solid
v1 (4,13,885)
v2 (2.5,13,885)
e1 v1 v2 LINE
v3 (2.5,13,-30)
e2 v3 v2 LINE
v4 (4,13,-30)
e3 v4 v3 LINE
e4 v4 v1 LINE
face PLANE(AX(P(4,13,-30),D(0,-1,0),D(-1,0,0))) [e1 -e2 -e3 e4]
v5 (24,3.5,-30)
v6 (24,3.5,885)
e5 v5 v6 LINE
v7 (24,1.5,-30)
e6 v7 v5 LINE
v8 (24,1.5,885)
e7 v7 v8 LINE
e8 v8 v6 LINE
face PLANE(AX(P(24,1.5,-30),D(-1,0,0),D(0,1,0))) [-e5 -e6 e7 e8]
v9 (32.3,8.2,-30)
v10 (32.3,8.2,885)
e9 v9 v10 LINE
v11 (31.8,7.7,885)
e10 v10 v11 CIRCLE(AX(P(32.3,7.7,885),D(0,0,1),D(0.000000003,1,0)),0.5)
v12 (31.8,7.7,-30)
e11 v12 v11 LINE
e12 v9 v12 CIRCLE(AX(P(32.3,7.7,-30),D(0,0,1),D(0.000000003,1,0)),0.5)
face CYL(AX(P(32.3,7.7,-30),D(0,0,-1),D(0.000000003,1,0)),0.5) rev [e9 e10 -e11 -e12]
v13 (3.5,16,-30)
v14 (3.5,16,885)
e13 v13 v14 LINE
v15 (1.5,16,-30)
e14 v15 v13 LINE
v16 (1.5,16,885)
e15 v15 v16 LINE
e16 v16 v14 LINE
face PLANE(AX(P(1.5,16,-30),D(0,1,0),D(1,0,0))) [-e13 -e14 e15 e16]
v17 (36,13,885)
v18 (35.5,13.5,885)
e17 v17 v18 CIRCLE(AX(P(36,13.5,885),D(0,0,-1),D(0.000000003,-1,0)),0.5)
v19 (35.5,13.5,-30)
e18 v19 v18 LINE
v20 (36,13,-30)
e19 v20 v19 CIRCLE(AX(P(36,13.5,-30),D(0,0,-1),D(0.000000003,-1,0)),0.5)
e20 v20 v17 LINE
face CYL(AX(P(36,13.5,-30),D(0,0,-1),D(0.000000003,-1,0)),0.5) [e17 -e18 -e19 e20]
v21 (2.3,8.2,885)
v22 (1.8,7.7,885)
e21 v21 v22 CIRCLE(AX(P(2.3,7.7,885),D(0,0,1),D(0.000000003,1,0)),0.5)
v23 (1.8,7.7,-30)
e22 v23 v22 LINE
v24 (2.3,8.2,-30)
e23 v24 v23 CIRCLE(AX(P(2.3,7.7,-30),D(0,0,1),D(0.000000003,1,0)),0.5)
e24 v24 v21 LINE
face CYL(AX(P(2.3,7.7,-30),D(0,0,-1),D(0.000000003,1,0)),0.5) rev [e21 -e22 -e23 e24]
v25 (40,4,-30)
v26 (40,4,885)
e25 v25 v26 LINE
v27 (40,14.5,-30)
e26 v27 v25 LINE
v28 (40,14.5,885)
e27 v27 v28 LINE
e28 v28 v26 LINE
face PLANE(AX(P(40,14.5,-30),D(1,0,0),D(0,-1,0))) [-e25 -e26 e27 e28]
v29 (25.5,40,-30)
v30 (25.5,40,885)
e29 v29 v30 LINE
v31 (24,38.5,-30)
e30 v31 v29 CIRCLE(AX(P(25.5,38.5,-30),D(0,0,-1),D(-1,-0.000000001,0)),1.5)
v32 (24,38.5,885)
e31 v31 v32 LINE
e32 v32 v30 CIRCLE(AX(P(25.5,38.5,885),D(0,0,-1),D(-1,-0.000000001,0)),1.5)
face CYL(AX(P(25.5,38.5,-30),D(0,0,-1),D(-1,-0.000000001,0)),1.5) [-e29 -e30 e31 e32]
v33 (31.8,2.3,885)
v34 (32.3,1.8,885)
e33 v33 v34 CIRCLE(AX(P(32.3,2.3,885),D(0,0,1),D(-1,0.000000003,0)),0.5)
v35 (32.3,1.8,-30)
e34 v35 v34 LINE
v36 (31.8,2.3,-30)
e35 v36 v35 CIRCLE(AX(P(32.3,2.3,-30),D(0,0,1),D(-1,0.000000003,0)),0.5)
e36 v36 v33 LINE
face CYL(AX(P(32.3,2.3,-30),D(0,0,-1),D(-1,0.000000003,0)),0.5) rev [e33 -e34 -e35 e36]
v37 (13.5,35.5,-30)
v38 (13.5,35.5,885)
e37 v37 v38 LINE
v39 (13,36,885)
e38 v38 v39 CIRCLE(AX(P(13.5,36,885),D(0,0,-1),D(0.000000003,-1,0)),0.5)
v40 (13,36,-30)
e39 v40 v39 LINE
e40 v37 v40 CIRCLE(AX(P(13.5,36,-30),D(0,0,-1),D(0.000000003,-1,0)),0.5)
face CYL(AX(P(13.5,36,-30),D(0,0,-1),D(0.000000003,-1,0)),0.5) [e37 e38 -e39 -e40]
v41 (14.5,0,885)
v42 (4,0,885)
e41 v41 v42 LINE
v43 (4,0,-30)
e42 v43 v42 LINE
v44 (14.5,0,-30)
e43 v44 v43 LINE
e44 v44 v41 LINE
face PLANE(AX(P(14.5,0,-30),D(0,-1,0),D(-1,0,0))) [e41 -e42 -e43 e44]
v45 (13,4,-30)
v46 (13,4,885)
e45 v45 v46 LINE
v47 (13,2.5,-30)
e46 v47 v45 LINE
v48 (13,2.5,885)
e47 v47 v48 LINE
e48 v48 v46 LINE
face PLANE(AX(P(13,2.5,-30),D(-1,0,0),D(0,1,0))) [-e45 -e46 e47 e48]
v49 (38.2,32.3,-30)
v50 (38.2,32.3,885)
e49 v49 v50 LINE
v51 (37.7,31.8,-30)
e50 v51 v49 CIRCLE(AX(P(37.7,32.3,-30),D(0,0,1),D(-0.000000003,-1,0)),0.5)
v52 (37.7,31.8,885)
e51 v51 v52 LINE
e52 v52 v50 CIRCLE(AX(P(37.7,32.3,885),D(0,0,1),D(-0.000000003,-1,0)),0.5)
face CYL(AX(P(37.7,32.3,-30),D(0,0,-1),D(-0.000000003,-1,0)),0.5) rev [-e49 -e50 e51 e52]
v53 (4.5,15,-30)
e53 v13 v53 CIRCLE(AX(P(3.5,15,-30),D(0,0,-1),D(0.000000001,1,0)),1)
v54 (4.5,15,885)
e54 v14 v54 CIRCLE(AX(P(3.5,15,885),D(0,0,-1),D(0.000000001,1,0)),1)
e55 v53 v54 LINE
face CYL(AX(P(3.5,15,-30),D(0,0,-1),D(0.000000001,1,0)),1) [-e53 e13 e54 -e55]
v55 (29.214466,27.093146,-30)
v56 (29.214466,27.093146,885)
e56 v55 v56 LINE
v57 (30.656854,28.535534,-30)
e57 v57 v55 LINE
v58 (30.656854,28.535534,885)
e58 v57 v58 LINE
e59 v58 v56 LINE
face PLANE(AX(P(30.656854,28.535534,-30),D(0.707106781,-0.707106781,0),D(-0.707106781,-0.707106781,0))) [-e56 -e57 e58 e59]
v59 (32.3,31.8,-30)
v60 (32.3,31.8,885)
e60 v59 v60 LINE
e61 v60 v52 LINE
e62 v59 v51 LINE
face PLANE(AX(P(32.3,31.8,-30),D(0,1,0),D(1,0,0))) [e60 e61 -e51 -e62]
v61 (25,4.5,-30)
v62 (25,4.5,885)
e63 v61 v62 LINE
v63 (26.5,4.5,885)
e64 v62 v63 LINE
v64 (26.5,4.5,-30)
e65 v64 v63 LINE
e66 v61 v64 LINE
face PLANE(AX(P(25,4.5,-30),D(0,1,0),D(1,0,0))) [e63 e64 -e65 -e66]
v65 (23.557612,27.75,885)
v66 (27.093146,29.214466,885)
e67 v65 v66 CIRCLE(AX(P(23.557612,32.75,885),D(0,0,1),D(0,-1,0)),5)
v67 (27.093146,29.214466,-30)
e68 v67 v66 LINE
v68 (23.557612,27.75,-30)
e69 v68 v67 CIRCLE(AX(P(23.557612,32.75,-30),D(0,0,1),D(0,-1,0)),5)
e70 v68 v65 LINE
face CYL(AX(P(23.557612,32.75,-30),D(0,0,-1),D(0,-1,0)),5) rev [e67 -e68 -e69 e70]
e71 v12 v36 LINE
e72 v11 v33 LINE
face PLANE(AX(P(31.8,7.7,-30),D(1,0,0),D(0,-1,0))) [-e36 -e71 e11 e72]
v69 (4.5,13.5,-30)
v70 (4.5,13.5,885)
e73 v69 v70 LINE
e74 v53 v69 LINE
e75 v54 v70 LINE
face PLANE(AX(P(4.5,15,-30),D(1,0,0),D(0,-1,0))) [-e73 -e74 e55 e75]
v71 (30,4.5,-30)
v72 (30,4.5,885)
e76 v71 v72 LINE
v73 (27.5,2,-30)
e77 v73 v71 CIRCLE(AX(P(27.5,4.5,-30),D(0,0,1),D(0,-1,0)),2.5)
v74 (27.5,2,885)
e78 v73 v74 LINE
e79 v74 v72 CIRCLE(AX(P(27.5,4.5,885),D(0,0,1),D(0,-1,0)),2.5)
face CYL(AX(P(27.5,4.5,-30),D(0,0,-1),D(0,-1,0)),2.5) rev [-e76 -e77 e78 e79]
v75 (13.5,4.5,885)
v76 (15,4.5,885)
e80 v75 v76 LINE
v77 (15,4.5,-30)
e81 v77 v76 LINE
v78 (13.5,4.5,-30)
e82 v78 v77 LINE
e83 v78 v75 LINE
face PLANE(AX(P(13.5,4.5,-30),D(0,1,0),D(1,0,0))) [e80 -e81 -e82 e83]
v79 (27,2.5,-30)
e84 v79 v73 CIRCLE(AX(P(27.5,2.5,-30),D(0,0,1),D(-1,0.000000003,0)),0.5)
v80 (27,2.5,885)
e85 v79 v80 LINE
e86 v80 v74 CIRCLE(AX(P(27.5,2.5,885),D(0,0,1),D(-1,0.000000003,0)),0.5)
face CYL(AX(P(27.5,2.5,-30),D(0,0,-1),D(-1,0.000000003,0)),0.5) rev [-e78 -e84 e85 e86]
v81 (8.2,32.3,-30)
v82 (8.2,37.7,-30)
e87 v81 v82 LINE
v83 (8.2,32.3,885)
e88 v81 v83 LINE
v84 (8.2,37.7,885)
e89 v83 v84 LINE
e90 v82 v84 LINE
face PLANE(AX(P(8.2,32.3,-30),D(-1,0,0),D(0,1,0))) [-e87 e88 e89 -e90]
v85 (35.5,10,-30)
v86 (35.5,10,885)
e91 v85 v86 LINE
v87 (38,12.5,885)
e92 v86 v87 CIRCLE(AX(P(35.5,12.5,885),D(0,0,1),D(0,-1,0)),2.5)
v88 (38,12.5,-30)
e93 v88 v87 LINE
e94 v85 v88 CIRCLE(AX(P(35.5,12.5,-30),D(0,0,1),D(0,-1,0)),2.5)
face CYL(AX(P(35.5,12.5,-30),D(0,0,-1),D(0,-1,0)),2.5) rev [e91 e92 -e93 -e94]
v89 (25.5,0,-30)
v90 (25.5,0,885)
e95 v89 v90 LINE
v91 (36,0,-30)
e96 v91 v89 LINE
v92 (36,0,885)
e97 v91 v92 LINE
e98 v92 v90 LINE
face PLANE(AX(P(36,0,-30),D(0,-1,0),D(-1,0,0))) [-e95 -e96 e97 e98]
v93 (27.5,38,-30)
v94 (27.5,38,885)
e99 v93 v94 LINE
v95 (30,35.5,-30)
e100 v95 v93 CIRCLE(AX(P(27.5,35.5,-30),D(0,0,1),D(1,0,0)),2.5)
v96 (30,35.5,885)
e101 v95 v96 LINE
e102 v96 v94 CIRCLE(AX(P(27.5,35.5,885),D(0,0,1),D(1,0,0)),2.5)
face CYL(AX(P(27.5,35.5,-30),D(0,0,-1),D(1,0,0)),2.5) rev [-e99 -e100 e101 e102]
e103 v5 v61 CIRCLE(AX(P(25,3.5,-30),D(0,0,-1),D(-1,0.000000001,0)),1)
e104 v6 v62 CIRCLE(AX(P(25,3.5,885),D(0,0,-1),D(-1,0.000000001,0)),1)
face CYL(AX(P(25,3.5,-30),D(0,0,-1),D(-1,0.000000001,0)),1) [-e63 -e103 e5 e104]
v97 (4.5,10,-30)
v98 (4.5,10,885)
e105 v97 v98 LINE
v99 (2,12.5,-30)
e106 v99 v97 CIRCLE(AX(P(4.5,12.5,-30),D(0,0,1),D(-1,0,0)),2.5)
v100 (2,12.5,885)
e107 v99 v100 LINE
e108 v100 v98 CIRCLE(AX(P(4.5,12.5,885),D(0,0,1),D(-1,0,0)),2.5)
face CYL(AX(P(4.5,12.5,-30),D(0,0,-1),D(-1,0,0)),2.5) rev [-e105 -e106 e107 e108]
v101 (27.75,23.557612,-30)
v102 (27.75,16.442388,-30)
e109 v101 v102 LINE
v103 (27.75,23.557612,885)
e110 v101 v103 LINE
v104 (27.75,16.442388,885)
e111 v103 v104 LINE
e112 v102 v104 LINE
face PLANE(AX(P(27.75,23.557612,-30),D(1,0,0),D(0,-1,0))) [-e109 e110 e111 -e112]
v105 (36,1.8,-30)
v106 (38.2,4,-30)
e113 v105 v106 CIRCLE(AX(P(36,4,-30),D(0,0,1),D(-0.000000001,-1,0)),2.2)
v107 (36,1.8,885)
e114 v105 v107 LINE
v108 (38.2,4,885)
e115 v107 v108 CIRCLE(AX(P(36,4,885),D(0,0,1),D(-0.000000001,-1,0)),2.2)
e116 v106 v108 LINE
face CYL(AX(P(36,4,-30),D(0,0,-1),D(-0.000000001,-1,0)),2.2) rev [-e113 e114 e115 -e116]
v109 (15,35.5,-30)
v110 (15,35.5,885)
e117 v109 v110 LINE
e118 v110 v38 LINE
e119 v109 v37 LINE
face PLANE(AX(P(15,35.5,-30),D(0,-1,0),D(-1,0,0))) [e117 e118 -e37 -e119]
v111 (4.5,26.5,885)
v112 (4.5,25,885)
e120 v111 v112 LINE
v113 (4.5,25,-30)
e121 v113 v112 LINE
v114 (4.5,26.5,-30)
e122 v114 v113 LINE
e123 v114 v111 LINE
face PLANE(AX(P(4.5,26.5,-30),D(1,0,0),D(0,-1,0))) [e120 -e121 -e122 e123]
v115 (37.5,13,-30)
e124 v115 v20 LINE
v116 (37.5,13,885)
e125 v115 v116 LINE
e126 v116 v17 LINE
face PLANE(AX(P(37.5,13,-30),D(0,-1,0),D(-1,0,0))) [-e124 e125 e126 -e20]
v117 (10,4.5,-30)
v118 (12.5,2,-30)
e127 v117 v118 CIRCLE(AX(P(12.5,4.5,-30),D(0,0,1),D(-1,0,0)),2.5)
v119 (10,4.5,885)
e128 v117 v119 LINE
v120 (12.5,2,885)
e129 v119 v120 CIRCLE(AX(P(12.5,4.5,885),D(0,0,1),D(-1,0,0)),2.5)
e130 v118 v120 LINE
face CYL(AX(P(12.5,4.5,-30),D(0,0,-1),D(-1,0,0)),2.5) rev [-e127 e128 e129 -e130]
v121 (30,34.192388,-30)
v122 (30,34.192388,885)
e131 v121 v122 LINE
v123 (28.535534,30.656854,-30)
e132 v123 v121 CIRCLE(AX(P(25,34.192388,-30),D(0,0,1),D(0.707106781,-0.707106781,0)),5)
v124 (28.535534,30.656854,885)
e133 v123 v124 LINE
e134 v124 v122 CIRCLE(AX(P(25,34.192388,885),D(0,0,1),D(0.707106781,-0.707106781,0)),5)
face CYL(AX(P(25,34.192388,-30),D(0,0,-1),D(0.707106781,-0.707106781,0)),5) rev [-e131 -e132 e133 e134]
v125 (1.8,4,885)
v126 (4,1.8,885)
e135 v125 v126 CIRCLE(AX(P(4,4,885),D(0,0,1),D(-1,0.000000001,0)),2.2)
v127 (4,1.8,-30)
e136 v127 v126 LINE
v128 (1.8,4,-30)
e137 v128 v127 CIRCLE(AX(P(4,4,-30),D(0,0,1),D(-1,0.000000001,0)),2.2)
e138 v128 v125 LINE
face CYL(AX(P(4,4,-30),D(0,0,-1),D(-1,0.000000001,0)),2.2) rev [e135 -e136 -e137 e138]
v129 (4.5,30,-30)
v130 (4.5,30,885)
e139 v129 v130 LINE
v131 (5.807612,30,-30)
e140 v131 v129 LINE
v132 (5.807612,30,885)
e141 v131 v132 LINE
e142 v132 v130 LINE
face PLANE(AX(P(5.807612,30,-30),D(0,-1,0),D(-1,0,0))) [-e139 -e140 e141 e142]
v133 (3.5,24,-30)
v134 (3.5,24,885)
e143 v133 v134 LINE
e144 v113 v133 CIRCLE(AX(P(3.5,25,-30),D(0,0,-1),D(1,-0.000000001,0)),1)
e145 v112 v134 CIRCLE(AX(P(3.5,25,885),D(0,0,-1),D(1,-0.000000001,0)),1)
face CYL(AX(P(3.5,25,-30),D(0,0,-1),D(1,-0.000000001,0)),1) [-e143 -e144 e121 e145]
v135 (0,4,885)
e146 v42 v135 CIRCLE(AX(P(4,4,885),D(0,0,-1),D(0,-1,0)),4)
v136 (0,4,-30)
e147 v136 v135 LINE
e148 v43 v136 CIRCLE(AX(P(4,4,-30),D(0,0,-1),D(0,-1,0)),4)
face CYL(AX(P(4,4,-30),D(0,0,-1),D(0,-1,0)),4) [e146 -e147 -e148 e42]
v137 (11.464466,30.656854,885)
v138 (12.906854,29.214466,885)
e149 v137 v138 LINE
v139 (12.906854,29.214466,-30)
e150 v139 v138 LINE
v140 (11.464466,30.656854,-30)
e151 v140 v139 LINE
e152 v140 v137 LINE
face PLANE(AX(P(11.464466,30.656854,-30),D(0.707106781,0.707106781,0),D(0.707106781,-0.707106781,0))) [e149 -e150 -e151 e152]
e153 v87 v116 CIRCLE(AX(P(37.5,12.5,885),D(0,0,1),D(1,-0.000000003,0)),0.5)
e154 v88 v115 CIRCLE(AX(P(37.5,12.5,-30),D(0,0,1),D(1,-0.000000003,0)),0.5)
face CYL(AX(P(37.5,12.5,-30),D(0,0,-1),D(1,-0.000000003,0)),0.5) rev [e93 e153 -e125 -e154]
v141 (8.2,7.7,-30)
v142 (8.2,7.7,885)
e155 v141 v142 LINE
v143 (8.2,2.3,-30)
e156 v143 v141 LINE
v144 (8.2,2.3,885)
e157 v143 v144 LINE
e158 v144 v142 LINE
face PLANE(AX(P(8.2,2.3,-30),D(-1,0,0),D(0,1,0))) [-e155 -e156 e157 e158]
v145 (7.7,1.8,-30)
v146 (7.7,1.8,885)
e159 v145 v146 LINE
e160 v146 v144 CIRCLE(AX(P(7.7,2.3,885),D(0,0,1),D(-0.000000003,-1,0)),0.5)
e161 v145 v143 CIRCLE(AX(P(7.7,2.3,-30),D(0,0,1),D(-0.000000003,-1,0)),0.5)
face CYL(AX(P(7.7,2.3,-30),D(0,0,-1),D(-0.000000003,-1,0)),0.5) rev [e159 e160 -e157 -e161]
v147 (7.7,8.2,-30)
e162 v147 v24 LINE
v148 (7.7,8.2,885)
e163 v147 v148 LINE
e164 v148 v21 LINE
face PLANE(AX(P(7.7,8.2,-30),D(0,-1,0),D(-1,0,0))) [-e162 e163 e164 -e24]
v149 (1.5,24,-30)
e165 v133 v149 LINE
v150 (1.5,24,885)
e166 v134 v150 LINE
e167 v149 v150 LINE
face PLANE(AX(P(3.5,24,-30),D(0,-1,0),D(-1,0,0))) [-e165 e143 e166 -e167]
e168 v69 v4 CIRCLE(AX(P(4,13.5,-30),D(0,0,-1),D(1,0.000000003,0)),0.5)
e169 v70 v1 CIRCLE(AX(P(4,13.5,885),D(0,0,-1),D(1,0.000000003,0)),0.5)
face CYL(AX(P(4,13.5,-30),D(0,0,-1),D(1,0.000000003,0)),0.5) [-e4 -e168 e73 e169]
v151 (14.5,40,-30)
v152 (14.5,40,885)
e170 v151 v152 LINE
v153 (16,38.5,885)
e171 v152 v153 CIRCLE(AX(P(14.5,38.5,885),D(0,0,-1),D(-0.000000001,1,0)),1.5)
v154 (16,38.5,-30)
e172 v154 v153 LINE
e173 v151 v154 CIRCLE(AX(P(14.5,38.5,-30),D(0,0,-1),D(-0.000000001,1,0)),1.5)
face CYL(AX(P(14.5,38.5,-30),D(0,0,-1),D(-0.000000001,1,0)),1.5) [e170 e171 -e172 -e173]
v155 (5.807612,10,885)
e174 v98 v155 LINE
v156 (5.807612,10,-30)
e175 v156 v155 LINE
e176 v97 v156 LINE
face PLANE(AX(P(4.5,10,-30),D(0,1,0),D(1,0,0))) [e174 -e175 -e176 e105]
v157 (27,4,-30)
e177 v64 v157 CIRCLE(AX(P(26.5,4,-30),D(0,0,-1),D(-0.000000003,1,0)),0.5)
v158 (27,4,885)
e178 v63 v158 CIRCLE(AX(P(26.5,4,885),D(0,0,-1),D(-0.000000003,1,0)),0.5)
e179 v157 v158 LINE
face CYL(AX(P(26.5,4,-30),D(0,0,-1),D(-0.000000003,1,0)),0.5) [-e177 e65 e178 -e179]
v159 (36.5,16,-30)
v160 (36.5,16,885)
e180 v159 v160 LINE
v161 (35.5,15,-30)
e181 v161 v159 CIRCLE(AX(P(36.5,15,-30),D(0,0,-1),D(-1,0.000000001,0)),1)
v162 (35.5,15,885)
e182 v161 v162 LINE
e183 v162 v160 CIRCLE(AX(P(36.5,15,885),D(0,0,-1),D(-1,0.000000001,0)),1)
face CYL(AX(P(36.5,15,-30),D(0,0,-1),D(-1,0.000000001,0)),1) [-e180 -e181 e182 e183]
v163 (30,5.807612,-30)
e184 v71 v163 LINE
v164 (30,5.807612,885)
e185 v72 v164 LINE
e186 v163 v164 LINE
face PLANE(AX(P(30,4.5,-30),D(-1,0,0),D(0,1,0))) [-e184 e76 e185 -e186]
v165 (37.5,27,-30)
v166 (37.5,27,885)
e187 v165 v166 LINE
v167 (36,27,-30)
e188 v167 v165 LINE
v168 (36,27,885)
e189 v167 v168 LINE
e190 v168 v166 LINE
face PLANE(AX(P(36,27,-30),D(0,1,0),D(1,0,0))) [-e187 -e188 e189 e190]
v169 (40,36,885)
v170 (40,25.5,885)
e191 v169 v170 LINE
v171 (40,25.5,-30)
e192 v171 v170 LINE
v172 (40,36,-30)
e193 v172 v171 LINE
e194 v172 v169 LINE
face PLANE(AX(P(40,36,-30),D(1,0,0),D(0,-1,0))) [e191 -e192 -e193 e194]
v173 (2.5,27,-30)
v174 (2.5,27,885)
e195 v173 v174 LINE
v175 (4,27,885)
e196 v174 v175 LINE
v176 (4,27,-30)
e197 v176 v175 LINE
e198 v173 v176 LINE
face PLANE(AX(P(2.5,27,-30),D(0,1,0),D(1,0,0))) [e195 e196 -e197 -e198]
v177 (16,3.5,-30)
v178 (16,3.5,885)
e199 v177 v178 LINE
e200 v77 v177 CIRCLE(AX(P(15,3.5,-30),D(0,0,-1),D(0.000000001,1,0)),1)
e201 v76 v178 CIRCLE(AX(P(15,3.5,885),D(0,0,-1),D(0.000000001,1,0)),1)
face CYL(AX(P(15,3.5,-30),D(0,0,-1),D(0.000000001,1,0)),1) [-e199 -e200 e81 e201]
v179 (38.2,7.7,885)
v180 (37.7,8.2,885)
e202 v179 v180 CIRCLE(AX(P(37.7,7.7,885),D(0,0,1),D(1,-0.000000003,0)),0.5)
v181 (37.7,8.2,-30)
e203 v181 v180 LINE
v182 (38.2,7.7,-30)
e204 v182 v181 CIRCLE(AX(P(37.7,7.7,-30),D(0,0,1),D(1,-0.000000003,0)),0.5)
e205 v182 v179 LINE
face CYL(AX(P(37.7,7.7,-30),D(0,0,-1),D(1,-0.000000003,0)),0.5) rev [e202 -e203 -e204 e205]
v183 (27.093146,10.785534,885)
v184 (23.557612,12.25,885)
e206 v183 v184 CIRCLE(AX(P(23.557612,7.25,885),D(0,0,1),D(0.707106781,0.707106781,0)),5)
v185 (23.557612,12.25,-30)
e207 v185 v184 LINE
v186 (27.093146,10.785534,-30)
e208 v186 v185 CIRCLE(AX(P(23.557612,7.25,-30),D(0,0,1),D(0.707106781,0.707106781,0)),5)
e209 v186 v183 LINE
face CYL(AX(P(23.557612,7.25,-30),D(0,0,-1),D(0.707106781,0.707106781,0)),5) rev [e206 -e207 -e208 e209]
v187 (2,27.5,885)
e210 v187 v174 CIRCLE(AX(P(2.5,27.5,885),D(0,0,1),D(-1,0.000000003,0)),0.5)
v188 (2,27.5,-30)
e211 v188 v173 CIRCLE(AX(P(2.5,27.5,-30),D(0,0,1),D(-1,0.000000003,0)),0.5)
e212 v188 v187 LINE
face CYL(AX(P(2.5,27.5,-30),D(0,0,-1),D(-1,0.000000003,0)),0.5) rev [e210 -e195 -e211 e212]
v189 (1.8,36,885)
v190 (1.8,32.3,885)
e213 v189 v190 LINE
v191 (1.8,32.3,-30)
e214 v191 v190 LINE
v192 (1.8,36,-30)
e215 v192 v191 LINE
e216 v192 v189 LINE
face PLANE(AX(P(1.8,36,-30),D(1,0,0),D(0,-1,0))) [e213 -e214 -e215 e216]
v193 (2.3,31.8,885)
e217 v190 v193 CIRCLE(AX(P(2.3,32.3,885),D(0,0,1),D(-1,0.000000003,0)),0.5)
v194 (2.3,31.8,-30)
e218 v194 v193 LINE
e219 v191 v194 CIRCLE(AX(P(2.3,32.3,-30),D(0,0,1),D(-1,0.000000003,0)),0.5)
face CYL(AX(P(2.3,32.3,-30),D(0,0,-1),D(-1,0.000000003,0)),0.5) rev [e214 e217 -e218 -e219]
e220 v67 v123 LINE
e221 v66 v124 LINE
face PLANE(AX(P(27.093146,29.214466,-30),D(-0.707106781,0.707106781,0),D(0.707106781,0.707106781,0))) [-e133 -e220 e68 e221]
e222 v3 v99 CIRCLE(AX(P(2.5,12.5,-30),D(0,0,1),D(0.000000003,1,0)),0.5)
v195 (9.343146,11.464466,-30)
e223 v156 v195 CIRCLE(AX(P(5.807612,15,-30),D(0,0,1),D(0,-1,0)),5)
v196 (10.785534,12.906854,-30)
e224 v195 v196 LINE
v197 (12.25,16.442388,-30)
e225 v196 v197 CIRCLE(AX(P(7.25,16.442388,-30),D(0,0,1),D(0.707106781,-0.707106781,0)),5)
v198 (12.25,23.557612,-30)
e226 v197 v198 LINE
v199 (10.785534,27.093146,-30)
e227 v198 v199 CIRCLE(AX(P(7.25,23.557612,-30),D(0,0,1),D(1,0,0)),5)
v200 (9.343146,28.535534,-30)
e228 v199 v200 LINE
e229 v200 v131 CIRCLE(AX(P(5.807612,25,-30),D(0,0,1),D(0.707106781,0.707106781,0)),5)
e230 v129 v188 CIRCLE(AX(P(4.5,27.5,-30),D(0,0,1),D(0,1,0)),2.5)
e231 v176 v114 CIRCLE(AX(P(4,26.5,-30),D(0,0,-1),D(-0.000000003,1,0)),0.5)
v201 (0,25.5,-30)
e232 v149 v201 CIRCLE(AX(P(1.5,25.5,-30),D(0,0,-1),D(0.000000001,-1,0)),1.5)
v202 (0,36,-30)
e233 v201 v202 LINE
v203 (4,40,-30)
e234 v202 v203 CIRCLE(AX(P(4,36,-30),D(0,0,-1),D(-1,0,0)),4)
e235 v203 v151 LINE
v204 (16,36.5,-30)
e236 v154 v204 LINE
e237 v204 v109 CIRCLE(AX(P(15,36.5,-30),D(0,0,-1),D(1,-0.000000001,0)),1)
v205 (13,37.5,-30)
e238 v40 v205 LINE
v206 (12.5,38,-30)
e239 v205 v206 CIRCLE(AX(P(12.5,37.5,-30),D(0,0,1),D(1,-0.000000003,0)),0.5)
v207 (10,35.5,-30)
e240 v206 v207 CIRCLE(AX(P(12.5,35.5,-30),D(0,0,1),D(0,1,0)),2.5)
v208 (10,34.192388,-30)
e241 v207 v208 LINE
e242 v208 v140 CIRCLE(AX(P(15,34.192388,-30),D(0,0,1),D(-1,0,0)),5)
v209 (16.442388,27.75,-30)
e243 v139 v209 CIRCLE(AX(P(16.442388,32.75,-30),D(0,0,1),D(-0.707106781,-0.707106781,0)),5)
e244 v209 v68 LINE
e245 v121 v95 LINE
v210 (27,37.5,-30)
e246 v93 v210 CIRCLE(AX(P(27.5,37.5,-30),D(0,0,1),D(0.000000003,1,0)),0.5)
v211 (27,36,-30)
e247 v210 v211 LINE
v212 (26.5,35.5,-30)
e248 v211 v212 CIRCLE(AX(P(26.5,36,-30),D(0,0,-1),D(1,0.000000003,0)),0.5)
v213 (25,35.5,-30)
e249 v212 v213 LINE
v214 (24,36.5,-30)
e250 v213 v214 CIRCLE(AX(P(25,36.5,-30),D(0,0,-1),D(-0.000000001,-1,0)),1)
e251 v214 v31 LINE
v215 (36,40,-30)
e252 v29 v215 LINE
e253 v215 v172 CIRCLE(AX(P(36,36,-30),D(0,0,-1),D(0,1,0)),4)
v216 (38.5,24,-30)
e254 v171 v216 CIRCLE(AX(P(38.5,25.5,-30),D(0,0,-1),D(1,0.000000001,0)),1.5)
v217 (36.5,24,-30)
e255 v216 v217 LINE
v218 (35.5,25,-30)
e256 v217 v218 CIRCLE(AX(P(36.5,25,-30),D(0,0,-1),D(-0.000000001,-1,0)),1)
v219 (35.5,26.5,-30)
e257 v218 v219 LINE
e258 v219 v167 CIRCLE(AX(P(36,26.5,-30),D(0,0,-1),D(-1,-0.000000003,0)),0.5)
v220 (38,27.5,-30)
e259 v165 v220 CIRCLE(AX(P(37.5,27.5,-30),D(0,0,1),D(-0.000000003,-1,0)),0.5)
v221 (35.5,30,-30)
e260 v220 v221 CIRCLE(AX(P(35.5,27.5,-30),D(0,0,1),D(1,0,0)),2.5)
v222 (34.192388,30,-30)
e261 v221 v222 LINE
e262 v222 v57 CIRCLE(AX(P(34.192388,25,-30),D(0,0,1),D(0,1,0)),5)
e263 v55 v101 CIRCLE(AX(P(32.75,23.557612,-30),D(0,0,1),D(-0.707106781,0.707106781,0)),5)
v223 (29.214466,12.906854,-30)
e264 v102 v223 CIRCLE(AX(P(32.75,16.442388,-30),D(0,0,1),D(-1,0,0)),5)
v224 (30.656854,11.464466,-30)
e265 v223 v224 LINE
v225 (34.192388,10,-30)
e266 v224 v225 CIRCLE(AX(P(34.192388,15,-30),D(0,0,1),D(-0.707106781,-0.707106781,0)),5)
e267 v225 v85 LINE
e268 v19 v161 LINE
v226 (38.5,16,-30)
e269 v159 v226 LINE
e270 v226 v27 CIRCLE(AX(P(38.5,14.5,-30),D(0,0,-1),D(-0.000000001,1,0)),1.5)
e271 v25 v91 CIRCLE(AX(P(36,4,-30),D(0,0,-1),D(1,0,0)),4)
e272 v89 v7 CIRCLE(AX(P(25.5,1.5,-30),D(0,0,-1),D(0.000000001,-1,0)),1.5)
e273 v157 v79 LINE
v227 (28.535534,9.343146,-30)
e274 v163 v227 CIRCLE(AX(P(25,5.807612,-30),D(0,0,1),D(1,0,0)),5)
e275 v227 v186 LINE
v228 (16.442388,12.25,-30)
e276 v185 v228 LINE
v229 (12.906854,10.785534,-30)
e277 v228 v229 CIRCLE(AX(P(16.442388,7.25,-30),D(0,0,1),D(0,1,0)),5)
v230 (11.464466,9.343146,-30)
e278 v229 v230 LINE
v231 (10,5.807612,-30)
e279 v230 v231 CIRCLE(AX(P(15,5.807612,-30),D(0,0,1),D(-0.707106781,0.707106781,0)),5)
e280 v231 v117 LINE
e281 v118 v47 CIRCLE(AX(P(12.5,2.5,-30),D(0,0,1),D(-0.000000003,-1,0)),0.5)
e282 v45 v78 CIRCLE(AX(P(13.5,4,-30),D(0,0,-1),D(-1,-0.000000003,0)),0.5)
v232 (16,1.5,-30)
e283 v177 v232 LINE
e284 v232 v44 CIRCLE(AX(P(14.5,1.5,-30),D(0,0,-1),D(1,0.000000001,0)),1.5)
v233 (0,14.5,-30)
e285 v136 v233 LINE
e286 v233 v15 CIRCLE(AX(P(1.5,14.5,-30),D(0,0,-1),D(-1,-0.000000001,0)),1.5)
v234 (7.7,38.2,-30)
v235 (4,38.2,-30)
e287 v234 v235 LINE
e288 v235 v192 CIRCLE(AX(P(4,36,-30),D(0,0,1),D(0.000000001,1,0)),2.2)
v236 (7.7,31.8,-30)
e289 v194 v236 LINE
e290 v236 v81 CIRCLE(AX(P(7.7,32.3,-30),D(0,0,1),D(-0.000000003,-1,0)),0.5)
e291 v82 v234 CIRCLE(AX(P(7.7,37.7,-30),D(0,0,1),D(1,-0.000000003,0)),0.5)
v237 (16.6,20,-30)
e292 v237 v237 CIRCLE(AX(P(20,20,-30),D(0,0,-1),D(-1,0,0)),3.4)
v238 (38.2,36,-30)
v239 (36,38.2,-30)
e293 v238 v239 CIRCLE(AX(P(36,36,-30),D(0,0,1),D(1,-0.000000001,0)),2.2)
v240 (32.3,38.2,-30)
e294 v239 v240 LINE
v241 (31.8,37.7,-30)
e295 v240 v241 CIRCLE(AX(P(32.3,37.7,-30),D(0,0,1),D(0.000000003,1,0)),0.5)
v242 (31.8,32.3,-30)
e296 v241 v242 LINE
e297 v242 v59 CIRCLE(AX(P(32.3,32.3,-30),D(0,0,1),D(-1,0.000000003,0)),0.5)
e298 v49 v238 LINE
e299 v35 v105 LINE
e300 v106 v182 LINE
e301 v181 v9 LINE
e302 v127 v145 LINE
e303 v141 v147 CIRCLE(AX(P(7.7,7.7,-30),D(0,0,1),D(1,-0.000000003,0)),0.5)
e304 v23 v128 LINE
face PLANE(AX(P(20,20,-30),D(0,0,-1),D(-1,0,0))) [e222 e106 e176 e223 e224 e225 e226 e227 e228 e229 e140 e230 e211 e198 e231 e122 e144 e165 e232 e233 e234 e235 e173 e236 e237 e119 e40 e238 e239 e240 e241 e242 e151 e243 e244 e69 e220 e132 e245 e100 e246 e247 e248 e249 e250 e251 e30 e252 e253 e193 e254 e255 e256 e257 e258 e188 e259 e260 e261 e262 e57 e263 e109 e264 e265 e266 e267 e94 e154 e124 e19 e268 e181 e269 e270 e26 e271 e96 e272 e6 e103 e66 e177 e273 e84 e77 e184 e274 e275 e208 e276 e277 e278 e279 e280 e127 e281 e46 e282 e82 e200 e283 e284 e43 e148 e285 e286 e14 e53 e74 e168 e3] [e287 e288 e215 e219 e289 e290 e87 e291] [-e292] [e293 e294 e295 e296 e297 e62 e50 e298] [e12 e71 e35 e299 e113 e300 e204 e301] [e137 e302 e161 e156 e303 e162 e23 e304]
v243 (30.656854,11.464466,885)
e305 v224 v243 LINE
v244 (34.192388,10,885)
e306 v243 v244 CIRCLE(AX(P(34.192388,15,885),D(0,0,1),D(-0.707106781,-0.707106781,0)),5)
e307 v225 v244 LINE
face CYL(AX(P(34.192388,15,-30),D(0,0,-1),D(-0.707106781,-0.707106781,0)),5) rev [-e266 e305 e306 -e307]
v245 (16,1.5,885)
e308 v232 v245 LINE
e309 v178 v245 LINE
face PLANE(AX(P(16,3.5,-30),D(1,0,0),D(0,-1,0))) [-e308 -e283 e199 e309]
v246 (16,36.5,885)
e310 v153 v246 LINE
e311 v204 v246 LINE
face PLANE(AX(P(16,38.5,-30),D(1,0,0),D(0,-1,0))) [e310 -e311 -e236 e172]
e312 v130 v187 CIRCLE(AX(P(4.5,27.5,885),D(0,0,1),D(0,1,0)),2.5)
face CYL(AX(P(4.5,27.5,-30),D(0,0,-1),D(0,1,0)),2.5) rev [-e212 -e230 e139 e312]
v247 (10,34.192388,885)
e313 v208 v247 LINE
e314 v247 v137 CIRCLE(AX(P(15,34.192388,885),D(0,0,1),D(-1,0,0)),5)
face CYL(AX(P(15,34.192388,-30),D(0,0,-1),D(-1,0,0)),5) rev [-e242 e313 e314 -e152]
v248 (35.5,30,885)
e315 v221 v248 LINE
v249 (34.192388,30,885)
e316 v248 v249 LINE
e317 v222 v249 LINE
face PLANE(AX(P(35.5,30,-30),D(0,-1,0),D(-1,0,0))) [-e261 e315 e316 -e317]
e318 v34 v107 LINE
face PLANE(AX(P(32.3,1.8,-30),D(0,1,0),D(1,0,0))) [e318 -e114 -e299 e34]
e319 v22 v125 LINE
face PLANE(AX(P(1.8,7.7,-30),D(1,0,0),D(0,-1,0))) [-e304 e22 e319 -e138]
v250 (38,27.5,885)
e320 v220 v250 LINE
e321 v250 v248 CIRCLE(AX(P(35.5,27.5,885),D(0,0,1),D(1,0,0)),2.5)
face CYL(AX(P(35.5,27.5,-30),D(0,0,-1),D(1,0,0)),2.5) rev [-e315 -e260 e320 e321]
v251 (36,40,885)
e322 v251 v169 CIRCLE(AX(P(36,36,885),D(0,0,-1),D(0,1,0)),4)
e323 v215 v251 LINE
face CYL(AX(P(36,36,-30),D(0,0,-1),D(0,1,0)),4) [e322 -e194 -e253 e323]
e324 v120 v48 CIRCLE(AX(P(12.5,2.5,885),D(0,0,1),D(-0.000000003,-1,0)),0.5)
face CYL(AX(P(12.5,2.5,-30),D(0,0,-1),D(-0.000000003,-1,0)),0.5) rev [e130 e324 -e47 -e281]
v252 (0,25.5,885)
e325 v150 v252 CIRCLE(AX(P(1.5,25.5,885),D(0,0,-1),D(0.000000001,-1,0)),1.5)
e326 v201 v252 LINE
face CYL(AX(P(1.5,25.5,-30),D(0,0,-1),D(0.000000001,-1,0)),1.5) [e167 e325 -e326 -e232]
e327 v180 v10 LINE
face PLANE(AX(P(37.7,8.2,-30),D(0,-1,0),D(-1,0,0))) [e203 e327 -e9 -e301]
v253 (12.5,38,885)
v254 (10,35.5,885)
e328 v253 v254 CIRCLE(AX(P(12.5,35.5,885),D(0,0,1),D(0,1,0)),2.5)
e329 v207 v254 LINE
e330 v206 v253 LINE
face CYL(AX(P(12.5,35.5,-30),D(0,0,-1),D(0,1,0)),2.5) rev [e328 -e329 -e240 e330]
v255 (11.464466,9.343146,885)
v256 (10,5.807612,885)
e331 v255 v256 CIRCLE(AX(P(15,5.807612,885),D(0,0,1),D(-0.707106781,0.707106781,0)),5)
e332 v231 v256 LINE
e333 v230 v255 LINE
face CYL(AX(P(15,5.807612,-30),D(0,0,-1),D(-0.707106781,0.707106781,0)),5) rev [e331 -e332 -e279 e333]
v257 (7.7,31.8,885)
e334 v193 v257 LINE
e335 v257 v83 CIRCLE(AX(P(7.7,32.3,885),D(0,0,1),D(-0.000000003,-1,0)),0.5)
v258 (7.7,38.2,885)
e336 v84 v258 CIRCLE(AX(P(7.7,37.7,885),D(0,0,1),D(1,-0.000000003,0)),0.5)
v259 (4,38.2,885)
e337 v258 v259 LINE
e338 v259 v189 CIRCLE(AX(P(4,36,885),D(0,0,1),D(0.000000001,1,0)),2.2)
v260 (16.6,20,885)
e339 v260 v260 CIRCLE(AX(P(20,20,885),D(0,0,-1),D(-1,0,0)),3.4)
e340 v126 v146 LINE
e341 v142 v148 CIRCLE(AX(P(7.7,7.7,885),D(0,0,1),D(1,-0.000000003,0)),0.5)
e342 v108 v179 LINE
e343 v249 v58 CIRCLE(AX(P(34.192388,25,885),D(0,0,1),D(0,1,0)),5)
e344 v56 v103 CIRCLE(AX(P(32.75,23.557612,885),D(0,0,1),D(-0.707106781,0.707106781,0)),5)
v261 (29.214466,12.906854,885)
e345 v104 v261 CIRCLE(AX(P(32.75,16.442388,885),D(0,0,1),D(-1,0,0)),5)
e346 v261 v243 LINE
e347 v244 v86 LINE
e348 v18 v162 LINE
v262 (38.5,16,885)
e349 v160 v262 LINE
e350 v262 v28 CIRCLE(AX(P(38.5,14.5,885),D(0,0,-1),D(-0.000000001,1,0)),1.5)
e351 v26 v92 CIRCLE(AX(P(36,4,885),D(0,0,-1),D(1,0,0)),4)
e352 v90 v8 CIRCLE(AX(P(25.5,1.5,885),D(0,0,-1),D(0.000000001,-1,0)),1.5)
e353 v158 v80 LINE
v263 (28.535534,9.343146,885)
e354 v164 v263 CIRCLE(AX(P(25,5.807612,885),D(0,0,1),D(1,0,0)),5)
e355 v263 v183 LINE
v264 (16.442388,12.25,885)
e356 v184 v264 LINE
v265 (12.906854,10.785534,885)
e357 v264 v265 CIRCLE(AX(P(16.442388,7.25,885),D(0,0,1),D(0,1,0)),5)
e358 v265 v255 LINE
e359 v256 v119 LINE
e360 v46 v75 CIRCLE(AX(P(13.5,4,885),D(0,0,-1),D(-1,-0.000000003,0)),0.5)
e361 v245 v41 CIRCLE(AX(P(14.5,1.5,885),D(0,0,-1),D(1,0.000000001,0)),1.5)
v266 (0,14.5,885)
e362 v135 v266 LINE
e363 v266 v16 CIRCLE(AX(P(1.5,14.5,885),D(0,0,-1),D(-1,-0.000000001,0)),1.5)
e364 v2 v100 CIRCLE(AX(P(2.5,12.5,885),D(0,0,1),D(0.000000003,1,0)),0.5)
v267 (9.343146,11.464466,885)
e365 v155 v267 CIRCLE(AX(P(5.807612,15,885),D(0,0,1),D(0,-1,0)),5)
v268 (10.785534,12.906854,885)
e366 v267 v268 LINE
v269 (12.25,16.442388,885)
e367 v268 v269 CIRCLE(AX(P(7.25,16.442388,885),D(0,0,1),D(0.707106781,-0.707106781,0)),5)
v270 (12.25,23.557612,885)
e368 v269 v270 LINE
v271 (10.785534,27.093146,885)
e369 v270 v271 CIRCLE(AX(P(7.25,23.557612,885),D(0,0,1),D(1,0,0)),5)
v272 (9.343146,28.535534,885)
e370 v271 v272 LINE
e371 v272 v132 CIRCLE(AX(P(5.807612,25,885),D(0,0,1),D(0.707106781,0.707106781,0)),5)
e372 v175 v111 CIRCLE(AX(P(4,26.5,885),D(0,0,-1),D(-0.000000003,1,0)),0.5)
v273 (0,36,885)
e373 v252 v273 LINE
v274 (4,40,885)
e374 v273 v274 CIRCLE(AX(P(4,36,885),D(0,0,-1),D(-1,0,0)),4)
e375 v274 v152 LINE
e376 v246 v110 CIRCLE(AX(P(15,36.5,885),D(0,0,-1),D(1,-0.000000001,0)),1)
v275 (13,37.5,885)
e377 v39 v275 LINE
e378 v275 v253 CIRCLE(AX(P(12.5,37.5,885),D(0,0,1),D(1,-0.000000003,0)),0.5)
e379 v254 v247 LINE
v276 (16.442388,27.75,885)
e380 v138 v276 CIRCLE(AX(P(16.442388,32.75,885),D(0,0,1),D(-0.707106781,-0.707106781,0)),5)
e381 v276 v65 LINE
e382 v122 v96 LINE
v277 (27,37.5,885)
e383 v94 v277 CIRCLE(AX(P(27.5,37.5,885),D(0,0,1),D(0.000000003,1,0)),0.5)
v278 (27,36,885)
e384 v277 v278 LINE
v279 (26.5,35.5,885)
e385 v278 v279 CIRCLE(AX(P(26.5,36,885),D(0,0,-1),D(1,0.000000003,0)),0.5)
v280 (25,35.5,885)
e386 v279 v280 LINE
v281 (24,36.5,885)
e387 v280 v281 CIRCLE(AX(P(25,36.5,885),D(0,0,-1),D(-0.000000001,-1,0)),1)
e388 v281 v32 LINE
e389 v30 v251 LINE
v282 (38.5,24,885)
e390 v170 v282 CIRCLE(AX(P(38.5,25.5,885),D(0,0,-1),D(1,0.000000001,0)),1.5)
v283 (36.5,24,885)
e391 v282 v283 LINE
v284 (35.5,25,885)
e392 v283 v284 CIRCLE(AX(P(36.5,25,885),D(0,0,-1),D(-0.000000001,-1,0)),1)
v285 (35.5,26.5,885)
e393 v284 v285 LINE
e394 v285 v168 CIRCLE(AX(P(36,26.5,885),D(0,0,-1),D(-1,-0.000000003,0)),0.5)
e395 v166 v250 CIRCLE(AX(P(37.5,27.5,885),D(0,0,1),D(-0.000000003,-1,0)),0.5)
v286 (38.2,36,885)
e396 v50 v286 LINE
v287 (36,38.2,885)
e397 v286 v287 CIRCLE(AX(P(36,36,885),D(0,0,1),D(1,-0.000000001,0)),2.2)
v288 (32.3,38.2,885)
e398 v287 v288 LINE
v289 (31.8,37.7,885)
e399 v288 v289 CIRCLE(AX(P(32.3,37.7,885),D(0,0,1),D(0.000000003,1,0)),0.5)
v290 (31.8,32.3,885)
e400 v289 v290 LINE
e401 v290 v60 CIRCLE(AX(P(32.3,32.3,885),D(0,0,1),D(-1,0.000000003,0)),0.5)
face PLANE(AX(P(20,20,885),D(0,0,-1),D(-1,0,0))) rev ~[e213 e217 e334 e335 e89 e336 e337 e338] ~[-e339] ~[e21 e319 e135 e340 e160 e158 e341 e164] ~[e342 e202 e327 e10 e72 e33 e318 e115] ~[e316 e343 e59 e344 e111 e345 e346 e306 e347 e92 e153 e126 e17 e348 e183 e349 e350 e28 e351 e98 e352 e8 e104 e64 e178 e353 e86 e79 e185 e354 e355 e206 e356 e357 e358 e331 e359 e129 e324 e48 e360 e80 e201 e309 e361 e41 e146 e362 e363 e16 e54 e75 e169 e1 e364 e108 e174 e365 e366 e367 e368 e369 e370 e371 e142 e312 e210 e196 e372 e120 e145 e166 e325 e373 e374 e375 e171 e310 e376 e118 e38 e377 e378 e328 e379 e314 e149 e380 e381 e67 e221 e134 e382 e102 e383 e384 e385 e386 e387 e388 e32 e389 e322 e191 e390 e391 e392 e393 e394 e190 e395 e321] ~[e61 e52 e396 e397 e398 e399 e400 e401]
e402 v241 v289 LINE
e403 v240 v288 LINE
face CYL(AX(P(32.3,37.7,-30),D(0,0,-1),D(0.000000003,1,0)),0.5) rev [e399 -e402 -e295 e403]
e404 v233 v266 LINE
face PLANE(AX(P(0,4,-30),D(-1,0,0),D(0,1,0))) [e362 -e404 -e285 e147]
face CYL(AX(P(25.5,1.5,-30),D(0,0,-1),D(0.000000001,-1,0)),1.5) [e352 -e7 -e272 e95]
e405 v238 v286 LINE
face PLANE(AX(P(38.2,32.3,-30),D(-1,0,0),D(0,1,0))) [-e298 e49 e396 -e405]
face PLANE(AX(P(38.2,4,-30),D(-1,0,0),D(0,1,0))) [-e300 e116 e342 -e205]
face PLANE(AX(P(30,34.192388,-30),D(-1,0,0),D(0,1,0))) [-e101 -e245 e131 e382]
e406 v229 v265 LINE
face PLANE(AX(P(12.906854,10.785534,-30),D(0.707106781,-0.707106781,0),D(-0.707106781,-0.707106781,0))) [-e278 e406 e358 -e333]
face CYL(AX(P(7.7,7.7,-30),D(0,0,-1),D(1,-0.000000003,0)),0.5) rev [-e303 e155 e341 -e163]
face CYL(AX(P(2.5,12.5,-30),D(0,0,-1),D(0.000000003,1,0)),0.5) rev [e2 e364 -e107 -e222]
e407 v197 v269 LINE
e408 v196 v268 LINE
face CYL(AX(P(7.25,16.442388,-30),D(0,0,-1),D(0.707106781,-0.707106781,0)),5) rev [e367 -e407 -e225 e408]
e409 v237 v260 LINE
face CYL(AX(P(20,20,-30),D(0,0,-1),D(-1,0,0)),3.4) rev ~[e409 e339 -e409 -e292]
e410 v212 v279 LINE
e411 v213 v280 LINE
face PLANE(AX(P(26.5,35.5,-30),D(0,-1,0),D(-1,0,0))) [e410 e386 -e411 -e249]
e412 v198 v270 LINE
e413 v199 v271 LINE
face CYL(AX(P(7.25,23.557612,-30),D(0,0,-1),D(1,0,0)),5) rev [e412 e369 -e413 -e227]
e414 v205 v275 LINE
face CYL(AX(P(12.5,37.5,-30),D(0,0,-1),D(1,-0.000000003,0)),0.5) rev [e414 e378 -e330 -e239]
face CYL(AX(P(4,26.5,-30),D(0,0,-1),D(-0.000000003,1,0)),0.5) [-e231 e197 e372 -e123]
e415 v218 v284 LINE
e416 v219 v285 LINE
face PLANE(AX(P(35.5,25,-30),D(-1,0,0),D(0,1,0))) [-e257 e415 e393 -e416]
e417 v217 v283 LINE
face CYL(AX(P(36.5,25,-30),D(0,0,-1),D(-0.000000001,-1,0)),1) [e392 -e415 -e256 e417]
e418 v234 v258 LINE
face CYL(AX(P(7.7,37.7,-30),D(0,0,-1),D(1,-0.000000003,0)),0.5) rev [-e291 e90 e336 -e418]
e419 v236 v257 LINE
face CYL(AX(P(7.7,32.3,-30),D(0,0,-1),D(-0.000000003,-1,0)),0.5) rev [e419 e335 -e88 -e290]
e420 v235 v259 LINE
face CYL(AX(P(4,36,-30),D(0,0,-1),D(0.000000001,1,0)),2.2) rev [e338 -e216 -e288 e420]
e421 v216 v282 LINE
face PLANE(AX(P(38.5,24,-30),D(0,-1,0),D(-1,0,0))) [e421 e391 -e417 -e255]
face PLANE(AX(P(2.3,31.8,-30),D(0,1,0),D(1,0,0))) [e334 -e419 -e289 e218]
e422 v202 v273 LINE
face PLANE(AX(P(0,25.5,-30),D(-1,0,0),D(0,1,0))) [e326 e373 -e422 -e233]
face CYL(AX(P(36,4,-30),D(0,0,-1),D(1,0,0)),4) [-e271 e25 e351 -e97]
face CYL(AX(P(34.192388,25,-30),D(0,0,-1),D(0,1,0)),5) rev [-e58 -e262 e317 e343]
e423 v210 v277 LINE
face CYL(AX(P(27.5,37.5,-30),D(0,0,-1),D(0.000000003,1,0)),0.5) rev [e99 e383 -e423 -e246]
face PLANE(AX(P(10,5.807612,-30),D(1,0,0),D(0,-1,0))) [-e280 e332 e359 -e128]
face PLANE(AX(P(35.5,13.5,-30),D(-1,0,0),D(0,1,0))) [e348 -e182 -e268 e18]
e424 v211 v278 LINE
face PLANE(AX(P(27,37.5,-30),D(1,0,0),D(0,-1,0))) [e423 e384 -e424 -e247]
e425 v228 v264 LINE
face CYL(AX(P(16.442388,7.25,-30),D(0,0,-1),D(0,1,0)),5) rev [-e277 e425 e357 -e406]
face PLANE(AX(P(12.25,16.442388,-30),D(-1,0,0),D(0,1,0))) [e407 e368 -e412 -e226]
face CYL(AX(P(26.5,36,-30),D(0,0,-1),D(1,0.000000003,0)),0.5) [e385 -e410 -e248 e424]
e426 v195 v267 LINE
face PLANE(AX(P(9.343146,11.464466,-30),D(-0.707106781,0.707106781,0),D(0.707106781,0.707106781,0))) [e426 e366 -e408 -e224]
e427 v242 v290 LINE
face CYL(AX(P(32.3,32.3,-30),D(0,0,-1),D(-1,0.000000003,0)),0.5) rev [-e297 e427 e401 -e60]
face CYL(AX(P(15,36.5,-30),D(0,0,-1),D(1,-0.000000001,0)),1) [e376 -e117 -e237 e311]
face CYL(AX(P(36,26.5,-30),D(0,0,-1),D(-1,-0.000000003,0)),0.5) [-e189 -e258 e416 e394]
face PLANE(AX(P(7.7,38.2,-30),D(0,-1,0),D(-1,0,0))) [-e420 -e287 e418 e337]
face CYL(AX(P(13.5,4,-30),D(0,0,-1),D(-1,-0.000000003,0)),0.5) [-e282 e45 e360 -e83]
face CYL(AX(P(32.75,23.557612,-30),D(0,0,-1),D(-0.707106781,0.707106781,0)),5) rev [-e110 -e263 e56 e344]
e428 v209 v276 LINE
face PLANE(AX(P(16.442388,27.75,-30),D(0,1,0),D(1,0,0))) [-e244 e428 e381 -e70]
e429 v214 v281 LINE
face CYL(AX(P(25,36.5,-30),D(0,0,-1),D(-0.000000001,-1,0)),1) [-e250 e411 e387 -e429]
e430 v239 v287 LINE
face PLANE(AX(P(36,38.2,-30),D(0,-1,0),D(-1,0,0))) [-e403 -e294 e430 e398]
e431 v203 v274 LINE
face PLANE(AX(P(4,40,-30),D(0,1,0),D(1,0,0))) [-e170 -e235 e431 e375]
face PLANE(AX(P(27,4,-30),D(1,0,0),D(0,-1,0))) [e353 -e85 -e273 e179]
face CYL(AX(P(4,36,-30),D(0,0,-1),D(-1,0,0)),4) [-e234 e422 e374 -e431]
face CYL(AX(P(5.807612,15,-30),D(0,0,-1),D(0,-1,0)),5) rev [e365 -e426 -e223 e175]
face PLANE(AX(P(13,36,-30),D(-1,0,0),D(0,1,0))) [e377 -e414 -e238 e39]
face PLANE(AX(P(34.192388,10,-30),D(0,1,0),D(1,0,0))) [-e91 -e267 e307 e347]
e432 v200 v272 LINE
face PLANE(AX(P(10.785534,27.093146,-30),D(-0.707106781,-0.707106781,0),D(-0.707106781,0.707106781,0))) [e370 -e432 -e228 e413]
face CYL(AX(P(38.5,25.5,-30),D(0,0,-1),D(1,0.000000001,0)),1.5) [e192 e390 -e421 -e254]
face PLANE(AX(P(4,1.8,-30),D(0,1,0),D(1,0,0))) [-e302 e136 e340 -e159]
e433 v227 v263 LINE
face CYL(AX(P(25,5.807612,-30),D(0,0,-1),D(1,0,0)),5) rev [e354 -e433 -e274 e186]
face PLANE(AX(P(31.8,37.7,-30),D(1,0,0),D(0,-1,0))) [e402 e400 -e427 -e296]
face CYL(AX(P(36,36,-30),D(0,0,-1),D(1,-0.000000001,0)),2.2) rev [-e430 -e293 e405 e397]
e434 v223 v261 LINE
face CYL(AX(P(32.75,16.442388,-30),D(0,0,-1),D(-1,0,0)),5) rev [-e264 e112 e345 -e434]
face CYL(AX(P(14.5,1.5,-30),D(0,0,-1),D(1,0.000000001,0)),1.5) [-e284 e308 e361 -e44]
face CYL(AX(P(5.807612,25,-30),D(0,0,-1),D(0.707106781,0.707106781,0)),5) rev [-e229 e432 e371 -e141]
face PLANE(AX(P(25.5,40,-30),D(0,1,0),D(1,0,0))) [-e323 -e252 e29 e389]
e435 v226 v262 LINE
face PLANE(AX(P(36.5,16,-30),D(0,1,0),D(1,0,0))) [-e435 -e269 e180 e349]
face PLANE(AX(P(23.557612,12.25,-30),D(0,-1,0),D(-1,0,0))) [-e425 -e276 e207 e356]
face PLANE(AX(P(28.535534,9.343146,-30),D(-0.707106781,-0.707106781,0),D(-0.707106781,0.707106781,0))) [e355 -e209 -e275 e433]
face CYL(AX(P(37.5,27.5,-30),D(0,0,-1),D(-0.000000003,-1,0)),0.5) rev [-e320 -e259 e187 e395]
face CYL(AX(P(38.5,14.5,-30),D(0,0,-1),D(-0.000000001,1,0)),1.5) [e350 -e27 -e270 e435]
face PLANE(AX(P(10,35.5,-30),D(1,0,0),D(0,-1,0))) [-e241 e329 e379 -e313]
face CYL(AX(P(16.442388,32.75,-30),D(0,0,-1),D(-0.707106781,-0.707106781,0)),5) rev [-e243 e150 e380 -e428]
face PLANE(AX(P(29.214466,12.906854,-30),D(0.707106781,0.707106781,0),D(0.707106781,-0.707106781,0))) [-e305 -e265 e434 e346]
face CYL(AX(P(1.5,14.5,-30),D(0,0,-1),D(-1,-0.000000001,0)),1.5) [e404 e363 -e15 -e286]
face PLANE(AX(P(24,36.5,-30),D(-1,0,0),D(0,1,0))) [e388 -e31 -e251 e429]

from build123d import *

# Parameters (mm, degrees)
ESQUISSE1_R        = 3.4
BOSS_EXTRU_1_DEPTH = 915


with BuildPart() as part:
    # Esquisse1 → Boss.-Extru.1 (new body)
    with BuildSketch(Plane(origin=(0, 0, -30), x_dir=(-1, 0, 0), z_dir=(0, 0, -1))):
        with BuildLine():
            Line((-4.5, 15), (-4.5, 13.5))
            ThreePointArc((-4.5, 13.5), (-4.353553391, 13.146446609), (-4, 13))
            Line((-4, 13), (-2.5, 13))
            ThreePointArc((-2.5, 13), (-2.146446609, 12.853553391), (-2, 12.5))
            ThreePointArc((-2, 12.5), (-2.732233047, 10.732233047), (-4.5, 10))
            Line((-4.5, 10), (-5.807611845, 10))
            ThreePointArc((-5.807611845, 10), (-7.721029006, 10.380602337), (-9.343145751, 11.464466094))
            Line((-9.343145751, 11.464466094), (-10.785533906, 12.906854249))
            ThreePointArc((-10.785533906, 12.906854249), (-11.869397663, 14.528970994), (-12.25, 16.442388155))
            Line((-12.25, 16.442388155), (-12.25, 23.557611845))
            ThreePointArc((-12.25, 23.557611845), (-11.869397663, 25.471029006), (-10.785533906, 27.093145751))
            Line((-10.785533906, 27.093145751), (-9.343145751, 28.535533906))
            ThreePointArc((-9.343145751, 28.535533906), (-7.721029006, 29.619397663), (-5.807611845, 30))
            Line((-5.807611845, 30), (-4.5, 30))
            ThreePointArc((-4.5, 30), (-2.732233047, 29.267766953), (-2, 27.5))
            ThreePointArc((-2, 27.5), (-2.146446609, 27.146446609), (-2.5, 27))
            Line((-2.5, 27), (-4, 27))
            ThreePointArc((-4, 27), (-4.353553391, 26.853553391), (-4.5, 26.5))
            Line((-4.5, 26.5), (-4.5, 25))
            ThreePointArc((-4.5, 25), (-4.207106781, 24.292893219), (-3.5, 24))
            Line((-3.5, 24), (-1.5, 24))
            ThreePointArc((-1.5, 24), (-0.439339828, 24.439339828), (0, 25.5))
            Line((0, 25.5), (0, 36))
            ThreePointArc((0, 36), (-1.171572875, 38.828427125), (-4, 40))
            Line((-4, 40), (-14.5, 40))
            ThreePointArc((-14.5, 40), (-15.560660172, 39.560660172), (-16, 38.5))
            Line((-16, 38.5), (-16, 36.5))
            ThreePointArc((-16, 36.5), (-15.707106781, 35.792893219), (-15, 35.5))
            Line((-15, 35.5), (-13.5, 35.5))
            ThreePointArc((-13.5, 35.5), (-13.146446609, 35.646446609), (-13, 36))
            Line((-13, 36), (-13, 37.5))
            ThreePointArc((-13, 37.5), (-12.853553391, 37.853553391), (-12.5, 38))
            ThreePointArc((-12.5, 38), (-10.732233047, 37.267766953), (-10, 35.5))
            Line((-10, 35.5), (-10, 34.192388155))
            ThreePointArc((-10, 34.192388155), (-10.380602337, 32.278970994), (-11.464466094, 30.656854249))
            Line((-11.464466094, 30.656854249), (-12.906854249, 29.214466094))
            ThreePointArc((-12.906854249, 29.214466094), (-14.528970994, 28.130602337), (-16.442388155, 27.75))
            Line((-16.442388155, 27.75), (-23.557611845, 27.75))
            ThreePointArc((-23.557611845, 27.75), (-25.471029006, 28.130602337), (-27.093145751, 29.214466094))
            Line((-27.093145751, 29.214466094), (-28.535533906, 30.656854249))
            ThreePointArc((-28.535533906, 30.656854249), (-29.619397663, 32.278970994), (-30, 34.192388155))
            Line((-30, 34.192388155), (-30, 35.5))
            ThreePointArc((-30, 35.5), (-29.267766953, 37.267766953), (-27.5, 38))
            ThreePointArc((-27.5, 38), (-27.146446609, 37.853553391), (-27, 37.5))
            Line((-27, 37.5), (-27, 36))
            ThreePointArc((-27, 36), (-26.853553391, 35.646446609), (-26.5, 35.5))
            Line((-26.5, 35.5), (-25, 35.5))
            ThreePointArc((-25, 35.5), (-24.292893219, 35.792893219), (-24, 36.5))
            Line((-24, 36.5), (-24, 38.5))
            ThreePointArc((-24, 38.5), (-24.439339828, 39.560660172), (-25.5, 40))
            Line((-25.5, 40), (-36, 40))
            ThreePointArc((-36, 40), (-38.828427125, 38.828427125), (-40, 36))
            Line((-40, 36), (-40, 25.5))
            ThreePointArc((-40, 25.5), (-39.560660172, 24.439339828), (-38.5, 24))
            Line((-38.5, 24), (-36.5, 24))
            ThreePointArc((-36.5, 24), (-35.792893219, 24.292893219), (-35.5, 25))
            Line((-35.5, 25), (-35.5, 26.5))
            ThreePointArc((-35.5, 26.5), (-35.646446609, 26.853553391), (-36, 27))
            Line((-36, 27), (-37.5, 27))
            ThreePointArc((-37.5, 27), (-37.853553391, 27.146446609), (-38, 27.5))
            ThreePointArc((-38, 27.5), (-37.267766953, 29.267766953), (-35.5, 30))
            Line((-35.5, 30), (-34.192388155, 30))
            ThreePointArc((-34.192388155, 30), (-32.278970994, 29.619397663), (-30.656854249, 28.535533906))
            Line((-30.656854249, 28.535533906), (-29.214466094, 27.093145751))
            ThreePointArc((-29.214466094, 27.093145751), (-28.130602337, 25.471029006), (-27.75, 23.557611845))
            Line((-27.75, 23.557611845), (-27.75, 16.442388155))
            ThreePointArc((-27.75, 16.442388155), (-28.130602337, 14.528970994), (-29.214466094, 12.906854249))
            Line((-29.214466094, 12.906854249), (-30.656854249, 11.464466094))
            ThreePointArc((-30.656854249, 11.464466094), (-32.278970994, 10.380602337), (-34.192388155, 10))
            Line((-34.192388155, 10), (-35.5, 10))
            ThreePointArc((-35.5, 10), (-37.267766953, 10.732233047), (-38, 12.5))
            ThreePointArc((-38, 12.5), (-37.853553391, 12.853553391), (-37.5, 13))
            Line((-37.5, 13), (-36, 13))
            ThreePointArc((-36, 13), (-35.646446609, 13.146446609), (-35.5, 13.5))
            Line((-35.5, 13.5), (-35.5, 15))
            ThreePointArc((-35.5, 15), (-35.792893219, 15.707106781), (-36.5, 16))
            Line((-36.5, 16), (-38.5, 16))
            ThreePointArc((-38.5, 16), (-39.560660172, 15.560660172), (-40, 14.5))
            Line((-40, 14.5), (-40, 4))
            ThreePointArc((-40, 4), (-38.828427125, 1.171572875), (-36, 0))
            Line((-36, 0), (-25.5, 0))
            ThreePointArc((-25.5, 0), (-24.439339828, 0.439339828), (-24, 1.5))
            Line((-24, 1.5), (-24, 3.5))
            ThreePointArc((-24, 3.5), (-24.292893219, 4.207106781), (-25, 4.5))
            Line((-25, 4.5), (-26.5, 4.5))
            ThreePointArc((-26.5, 4.5), (-26.853553391, 4.353553391), (-27, 4))
            Line((-27, 4), (-27, 2.5))
            ThreePointArc((-27, 2.5), (-27.146446609, 2.146446609), (-27.5, 2))
            ThreePointArc((-27.5, 2), (-29.267766953, 2.732233047), (-30, 4.5))
            Line((-30, 4.5), (-30, 5.807611845))
            ThreePointArc((-30, 5.807611845), (-29.619397663, 7.721029006), (-28.535533906, 9.343145751))
            Line((-28.535533906, 9.343145751), (-27.093145751, 10.785533906))
            ThreePointArc((-27.093145751, 10.785533906), (-25.471029006, 11.869397663), (-23.557611845, 12.25))
            Line((-23.557611845, 12.25), (-16.442388155, 12.25))
            ThreePointArc((-16.442388155, 12.25), (-14.528970994, 11.869397663), (-12.906854249, 10.785533906))
            Line((-12.906854249, 10.785533906), (-11.464466094, 9.343145751))
            ThreePointArc((-11.464466094, 9.343145751), (-10.380602337, 7.721029006), (-10, 5.807611845))
            Line((-10, 5.807611845), (-10, 4.5))
            ThreePointArc((-10, 4.5), (-10.732233047, 2.732233047), (-12.5, 2))
            ThreePointArc((-12.5, 2), (-12.853553391, 2.146446609), (-13, 2.5))
            Line((-13, 2.5), (-13, 4))
            ThreePointArc((-13, 4), (-13.146446609, 4.353553391), (-13.5, 4.5))
            Line((-13.5, 4.5), (-15, 4.5))
            ThreePointArc((-15, 4.5), (-15.707106781, 4.207106781), (-16, 3.5))
            Line((-16, 3.5), (-16, 1.5))
            ThreePointArc((-16, 1.5), (-15.560660172, 0.439339828), (-14.5, 0))
            Line((-14.5, 0), (-4, 0))
            ThreePointArc((-4, 0), (-1.171572875, 1.171572875), (0, 4))
            Line((0, 4), (0, 14.5))
            ThreePointArc((0, 14.5), (-0.439339828, 15.560660172), (-1.5, 16))
            Line((-1.5, 16), (-3.5, 16))
            ThreePointArc((-3.5, 16), (-4.207106781, 15.707106781), (-4.5, 15))
        make_face()
        with Locations((-20, 20)):
            Circle(ESQUISSE1_R, mode=Mode.SUBTRACT)
        with BuildLine():
            Line((-4, 1.8), (-7.7, 1.8))
            ThreePointArc((-7.7, 1.8), (-8.053553391, 1.946446609), (-8.2, 2.3))
            Line((-8.2, 2.3), (-8.2, 7.7))
            ThreePointArc((-8.2, 7.7), (-8.053553391, 8.053553391), (-7.7, 8.2))
            Line((-7.7, 8.2), (-2.3, 8.2))
            ThreePointArc((-2.3, 8.2), (-1.946446609, 8.053553391), (-1.8, 7.7))
            Line((-1.8, 7.7), (-1.8, 4))
            ThreePointArc((-1.8, 4), (-2.444365081, 2.444365081), (-4, 1.8))
        make_face(mode=Mode.SUBTRACT)
        with BuildLine():
            Line((-38.2, 4), (-38.2, 7.7))
            ThreePointArc((-38.2, 7.7), (-38.053553391, 8.053553391), (-37.7, 8.2))
            Line((-37.7, 8.2), (-32.3, 8.2))
            ThreePointArc((-32.3, 8.2), (-31.946446609, 8.053553391), (-31.8, 7.7))
            Line((-31.8, 7.7), (-31.8, 2.3))
            ThreePointArc((-31.8, 2.3), (-31.946446609, 1.946446609), (-32.3, 1.8))
            Line((-32.3, 1.8), (-36, 1.8))
            ThreePointArc((-36, 1.8), (-37.555634919, 2.444365081), (-38.2, 4))
        make_face(mode=Mode.SUBTRACT)
        with BuildLine():
            Line((-36, 38.2), (-32.3, 38.2))
            ThreePointArc((-32.3, 38.2), (-31.946446609, 38.053553391), (-31.8, 37.7))
            Line((-31.8, 37.7), (-31.8, 32.3))
            ThreePointArc((-31.8, 32.3), (-31.946446609, 31.946446609), (-32.3, 31.8))
            Line((-32.3, 31.8), (-37.7, 31.8))
            ThreePointArc((-37.7, 31.8), (-38.053553391, 31.946446609), (-38.2, 32.3))
            Line((-38.2, 32.3), (-38.2, 36))
            ThreePointArc((-38.2, 36), (-37.555634919, 37.555634919), (-36, 38.2))
        make_face(mode=Mode.SUBTRACT)
        with BuildLine():
            Line((-1.8, 36), (-1.8, 32.3))
            ThreePointArc((-1.8, 32.3), (-1.946446609, 31.946446609), (-2.3, 31.8))
            Line((-2.3, 31.8), (-7.7, 31.8))
            ThreePointArc((-7.7, 31.8), (-8.053553391, 31.946446609), (-8.2, 32.3))
            Line((-8.2, 32.3), (-8.2, 37.7))
            ThreePointArc((-8.2, 37.7), (-8.053553391, 38.053553391), (-7.7, 38.2))
            Line((-7.7, 38.2), (-4, 38.2))
            ThreePointArc((-4, 38.2), (-2.444365081, 37.555634919), (-1.8, 36))
        make_face(mode=Mode.SUBTRACT)
    extrude(amount=-BOSS_EXTRU_1_DEPTH)


solid = part.part
